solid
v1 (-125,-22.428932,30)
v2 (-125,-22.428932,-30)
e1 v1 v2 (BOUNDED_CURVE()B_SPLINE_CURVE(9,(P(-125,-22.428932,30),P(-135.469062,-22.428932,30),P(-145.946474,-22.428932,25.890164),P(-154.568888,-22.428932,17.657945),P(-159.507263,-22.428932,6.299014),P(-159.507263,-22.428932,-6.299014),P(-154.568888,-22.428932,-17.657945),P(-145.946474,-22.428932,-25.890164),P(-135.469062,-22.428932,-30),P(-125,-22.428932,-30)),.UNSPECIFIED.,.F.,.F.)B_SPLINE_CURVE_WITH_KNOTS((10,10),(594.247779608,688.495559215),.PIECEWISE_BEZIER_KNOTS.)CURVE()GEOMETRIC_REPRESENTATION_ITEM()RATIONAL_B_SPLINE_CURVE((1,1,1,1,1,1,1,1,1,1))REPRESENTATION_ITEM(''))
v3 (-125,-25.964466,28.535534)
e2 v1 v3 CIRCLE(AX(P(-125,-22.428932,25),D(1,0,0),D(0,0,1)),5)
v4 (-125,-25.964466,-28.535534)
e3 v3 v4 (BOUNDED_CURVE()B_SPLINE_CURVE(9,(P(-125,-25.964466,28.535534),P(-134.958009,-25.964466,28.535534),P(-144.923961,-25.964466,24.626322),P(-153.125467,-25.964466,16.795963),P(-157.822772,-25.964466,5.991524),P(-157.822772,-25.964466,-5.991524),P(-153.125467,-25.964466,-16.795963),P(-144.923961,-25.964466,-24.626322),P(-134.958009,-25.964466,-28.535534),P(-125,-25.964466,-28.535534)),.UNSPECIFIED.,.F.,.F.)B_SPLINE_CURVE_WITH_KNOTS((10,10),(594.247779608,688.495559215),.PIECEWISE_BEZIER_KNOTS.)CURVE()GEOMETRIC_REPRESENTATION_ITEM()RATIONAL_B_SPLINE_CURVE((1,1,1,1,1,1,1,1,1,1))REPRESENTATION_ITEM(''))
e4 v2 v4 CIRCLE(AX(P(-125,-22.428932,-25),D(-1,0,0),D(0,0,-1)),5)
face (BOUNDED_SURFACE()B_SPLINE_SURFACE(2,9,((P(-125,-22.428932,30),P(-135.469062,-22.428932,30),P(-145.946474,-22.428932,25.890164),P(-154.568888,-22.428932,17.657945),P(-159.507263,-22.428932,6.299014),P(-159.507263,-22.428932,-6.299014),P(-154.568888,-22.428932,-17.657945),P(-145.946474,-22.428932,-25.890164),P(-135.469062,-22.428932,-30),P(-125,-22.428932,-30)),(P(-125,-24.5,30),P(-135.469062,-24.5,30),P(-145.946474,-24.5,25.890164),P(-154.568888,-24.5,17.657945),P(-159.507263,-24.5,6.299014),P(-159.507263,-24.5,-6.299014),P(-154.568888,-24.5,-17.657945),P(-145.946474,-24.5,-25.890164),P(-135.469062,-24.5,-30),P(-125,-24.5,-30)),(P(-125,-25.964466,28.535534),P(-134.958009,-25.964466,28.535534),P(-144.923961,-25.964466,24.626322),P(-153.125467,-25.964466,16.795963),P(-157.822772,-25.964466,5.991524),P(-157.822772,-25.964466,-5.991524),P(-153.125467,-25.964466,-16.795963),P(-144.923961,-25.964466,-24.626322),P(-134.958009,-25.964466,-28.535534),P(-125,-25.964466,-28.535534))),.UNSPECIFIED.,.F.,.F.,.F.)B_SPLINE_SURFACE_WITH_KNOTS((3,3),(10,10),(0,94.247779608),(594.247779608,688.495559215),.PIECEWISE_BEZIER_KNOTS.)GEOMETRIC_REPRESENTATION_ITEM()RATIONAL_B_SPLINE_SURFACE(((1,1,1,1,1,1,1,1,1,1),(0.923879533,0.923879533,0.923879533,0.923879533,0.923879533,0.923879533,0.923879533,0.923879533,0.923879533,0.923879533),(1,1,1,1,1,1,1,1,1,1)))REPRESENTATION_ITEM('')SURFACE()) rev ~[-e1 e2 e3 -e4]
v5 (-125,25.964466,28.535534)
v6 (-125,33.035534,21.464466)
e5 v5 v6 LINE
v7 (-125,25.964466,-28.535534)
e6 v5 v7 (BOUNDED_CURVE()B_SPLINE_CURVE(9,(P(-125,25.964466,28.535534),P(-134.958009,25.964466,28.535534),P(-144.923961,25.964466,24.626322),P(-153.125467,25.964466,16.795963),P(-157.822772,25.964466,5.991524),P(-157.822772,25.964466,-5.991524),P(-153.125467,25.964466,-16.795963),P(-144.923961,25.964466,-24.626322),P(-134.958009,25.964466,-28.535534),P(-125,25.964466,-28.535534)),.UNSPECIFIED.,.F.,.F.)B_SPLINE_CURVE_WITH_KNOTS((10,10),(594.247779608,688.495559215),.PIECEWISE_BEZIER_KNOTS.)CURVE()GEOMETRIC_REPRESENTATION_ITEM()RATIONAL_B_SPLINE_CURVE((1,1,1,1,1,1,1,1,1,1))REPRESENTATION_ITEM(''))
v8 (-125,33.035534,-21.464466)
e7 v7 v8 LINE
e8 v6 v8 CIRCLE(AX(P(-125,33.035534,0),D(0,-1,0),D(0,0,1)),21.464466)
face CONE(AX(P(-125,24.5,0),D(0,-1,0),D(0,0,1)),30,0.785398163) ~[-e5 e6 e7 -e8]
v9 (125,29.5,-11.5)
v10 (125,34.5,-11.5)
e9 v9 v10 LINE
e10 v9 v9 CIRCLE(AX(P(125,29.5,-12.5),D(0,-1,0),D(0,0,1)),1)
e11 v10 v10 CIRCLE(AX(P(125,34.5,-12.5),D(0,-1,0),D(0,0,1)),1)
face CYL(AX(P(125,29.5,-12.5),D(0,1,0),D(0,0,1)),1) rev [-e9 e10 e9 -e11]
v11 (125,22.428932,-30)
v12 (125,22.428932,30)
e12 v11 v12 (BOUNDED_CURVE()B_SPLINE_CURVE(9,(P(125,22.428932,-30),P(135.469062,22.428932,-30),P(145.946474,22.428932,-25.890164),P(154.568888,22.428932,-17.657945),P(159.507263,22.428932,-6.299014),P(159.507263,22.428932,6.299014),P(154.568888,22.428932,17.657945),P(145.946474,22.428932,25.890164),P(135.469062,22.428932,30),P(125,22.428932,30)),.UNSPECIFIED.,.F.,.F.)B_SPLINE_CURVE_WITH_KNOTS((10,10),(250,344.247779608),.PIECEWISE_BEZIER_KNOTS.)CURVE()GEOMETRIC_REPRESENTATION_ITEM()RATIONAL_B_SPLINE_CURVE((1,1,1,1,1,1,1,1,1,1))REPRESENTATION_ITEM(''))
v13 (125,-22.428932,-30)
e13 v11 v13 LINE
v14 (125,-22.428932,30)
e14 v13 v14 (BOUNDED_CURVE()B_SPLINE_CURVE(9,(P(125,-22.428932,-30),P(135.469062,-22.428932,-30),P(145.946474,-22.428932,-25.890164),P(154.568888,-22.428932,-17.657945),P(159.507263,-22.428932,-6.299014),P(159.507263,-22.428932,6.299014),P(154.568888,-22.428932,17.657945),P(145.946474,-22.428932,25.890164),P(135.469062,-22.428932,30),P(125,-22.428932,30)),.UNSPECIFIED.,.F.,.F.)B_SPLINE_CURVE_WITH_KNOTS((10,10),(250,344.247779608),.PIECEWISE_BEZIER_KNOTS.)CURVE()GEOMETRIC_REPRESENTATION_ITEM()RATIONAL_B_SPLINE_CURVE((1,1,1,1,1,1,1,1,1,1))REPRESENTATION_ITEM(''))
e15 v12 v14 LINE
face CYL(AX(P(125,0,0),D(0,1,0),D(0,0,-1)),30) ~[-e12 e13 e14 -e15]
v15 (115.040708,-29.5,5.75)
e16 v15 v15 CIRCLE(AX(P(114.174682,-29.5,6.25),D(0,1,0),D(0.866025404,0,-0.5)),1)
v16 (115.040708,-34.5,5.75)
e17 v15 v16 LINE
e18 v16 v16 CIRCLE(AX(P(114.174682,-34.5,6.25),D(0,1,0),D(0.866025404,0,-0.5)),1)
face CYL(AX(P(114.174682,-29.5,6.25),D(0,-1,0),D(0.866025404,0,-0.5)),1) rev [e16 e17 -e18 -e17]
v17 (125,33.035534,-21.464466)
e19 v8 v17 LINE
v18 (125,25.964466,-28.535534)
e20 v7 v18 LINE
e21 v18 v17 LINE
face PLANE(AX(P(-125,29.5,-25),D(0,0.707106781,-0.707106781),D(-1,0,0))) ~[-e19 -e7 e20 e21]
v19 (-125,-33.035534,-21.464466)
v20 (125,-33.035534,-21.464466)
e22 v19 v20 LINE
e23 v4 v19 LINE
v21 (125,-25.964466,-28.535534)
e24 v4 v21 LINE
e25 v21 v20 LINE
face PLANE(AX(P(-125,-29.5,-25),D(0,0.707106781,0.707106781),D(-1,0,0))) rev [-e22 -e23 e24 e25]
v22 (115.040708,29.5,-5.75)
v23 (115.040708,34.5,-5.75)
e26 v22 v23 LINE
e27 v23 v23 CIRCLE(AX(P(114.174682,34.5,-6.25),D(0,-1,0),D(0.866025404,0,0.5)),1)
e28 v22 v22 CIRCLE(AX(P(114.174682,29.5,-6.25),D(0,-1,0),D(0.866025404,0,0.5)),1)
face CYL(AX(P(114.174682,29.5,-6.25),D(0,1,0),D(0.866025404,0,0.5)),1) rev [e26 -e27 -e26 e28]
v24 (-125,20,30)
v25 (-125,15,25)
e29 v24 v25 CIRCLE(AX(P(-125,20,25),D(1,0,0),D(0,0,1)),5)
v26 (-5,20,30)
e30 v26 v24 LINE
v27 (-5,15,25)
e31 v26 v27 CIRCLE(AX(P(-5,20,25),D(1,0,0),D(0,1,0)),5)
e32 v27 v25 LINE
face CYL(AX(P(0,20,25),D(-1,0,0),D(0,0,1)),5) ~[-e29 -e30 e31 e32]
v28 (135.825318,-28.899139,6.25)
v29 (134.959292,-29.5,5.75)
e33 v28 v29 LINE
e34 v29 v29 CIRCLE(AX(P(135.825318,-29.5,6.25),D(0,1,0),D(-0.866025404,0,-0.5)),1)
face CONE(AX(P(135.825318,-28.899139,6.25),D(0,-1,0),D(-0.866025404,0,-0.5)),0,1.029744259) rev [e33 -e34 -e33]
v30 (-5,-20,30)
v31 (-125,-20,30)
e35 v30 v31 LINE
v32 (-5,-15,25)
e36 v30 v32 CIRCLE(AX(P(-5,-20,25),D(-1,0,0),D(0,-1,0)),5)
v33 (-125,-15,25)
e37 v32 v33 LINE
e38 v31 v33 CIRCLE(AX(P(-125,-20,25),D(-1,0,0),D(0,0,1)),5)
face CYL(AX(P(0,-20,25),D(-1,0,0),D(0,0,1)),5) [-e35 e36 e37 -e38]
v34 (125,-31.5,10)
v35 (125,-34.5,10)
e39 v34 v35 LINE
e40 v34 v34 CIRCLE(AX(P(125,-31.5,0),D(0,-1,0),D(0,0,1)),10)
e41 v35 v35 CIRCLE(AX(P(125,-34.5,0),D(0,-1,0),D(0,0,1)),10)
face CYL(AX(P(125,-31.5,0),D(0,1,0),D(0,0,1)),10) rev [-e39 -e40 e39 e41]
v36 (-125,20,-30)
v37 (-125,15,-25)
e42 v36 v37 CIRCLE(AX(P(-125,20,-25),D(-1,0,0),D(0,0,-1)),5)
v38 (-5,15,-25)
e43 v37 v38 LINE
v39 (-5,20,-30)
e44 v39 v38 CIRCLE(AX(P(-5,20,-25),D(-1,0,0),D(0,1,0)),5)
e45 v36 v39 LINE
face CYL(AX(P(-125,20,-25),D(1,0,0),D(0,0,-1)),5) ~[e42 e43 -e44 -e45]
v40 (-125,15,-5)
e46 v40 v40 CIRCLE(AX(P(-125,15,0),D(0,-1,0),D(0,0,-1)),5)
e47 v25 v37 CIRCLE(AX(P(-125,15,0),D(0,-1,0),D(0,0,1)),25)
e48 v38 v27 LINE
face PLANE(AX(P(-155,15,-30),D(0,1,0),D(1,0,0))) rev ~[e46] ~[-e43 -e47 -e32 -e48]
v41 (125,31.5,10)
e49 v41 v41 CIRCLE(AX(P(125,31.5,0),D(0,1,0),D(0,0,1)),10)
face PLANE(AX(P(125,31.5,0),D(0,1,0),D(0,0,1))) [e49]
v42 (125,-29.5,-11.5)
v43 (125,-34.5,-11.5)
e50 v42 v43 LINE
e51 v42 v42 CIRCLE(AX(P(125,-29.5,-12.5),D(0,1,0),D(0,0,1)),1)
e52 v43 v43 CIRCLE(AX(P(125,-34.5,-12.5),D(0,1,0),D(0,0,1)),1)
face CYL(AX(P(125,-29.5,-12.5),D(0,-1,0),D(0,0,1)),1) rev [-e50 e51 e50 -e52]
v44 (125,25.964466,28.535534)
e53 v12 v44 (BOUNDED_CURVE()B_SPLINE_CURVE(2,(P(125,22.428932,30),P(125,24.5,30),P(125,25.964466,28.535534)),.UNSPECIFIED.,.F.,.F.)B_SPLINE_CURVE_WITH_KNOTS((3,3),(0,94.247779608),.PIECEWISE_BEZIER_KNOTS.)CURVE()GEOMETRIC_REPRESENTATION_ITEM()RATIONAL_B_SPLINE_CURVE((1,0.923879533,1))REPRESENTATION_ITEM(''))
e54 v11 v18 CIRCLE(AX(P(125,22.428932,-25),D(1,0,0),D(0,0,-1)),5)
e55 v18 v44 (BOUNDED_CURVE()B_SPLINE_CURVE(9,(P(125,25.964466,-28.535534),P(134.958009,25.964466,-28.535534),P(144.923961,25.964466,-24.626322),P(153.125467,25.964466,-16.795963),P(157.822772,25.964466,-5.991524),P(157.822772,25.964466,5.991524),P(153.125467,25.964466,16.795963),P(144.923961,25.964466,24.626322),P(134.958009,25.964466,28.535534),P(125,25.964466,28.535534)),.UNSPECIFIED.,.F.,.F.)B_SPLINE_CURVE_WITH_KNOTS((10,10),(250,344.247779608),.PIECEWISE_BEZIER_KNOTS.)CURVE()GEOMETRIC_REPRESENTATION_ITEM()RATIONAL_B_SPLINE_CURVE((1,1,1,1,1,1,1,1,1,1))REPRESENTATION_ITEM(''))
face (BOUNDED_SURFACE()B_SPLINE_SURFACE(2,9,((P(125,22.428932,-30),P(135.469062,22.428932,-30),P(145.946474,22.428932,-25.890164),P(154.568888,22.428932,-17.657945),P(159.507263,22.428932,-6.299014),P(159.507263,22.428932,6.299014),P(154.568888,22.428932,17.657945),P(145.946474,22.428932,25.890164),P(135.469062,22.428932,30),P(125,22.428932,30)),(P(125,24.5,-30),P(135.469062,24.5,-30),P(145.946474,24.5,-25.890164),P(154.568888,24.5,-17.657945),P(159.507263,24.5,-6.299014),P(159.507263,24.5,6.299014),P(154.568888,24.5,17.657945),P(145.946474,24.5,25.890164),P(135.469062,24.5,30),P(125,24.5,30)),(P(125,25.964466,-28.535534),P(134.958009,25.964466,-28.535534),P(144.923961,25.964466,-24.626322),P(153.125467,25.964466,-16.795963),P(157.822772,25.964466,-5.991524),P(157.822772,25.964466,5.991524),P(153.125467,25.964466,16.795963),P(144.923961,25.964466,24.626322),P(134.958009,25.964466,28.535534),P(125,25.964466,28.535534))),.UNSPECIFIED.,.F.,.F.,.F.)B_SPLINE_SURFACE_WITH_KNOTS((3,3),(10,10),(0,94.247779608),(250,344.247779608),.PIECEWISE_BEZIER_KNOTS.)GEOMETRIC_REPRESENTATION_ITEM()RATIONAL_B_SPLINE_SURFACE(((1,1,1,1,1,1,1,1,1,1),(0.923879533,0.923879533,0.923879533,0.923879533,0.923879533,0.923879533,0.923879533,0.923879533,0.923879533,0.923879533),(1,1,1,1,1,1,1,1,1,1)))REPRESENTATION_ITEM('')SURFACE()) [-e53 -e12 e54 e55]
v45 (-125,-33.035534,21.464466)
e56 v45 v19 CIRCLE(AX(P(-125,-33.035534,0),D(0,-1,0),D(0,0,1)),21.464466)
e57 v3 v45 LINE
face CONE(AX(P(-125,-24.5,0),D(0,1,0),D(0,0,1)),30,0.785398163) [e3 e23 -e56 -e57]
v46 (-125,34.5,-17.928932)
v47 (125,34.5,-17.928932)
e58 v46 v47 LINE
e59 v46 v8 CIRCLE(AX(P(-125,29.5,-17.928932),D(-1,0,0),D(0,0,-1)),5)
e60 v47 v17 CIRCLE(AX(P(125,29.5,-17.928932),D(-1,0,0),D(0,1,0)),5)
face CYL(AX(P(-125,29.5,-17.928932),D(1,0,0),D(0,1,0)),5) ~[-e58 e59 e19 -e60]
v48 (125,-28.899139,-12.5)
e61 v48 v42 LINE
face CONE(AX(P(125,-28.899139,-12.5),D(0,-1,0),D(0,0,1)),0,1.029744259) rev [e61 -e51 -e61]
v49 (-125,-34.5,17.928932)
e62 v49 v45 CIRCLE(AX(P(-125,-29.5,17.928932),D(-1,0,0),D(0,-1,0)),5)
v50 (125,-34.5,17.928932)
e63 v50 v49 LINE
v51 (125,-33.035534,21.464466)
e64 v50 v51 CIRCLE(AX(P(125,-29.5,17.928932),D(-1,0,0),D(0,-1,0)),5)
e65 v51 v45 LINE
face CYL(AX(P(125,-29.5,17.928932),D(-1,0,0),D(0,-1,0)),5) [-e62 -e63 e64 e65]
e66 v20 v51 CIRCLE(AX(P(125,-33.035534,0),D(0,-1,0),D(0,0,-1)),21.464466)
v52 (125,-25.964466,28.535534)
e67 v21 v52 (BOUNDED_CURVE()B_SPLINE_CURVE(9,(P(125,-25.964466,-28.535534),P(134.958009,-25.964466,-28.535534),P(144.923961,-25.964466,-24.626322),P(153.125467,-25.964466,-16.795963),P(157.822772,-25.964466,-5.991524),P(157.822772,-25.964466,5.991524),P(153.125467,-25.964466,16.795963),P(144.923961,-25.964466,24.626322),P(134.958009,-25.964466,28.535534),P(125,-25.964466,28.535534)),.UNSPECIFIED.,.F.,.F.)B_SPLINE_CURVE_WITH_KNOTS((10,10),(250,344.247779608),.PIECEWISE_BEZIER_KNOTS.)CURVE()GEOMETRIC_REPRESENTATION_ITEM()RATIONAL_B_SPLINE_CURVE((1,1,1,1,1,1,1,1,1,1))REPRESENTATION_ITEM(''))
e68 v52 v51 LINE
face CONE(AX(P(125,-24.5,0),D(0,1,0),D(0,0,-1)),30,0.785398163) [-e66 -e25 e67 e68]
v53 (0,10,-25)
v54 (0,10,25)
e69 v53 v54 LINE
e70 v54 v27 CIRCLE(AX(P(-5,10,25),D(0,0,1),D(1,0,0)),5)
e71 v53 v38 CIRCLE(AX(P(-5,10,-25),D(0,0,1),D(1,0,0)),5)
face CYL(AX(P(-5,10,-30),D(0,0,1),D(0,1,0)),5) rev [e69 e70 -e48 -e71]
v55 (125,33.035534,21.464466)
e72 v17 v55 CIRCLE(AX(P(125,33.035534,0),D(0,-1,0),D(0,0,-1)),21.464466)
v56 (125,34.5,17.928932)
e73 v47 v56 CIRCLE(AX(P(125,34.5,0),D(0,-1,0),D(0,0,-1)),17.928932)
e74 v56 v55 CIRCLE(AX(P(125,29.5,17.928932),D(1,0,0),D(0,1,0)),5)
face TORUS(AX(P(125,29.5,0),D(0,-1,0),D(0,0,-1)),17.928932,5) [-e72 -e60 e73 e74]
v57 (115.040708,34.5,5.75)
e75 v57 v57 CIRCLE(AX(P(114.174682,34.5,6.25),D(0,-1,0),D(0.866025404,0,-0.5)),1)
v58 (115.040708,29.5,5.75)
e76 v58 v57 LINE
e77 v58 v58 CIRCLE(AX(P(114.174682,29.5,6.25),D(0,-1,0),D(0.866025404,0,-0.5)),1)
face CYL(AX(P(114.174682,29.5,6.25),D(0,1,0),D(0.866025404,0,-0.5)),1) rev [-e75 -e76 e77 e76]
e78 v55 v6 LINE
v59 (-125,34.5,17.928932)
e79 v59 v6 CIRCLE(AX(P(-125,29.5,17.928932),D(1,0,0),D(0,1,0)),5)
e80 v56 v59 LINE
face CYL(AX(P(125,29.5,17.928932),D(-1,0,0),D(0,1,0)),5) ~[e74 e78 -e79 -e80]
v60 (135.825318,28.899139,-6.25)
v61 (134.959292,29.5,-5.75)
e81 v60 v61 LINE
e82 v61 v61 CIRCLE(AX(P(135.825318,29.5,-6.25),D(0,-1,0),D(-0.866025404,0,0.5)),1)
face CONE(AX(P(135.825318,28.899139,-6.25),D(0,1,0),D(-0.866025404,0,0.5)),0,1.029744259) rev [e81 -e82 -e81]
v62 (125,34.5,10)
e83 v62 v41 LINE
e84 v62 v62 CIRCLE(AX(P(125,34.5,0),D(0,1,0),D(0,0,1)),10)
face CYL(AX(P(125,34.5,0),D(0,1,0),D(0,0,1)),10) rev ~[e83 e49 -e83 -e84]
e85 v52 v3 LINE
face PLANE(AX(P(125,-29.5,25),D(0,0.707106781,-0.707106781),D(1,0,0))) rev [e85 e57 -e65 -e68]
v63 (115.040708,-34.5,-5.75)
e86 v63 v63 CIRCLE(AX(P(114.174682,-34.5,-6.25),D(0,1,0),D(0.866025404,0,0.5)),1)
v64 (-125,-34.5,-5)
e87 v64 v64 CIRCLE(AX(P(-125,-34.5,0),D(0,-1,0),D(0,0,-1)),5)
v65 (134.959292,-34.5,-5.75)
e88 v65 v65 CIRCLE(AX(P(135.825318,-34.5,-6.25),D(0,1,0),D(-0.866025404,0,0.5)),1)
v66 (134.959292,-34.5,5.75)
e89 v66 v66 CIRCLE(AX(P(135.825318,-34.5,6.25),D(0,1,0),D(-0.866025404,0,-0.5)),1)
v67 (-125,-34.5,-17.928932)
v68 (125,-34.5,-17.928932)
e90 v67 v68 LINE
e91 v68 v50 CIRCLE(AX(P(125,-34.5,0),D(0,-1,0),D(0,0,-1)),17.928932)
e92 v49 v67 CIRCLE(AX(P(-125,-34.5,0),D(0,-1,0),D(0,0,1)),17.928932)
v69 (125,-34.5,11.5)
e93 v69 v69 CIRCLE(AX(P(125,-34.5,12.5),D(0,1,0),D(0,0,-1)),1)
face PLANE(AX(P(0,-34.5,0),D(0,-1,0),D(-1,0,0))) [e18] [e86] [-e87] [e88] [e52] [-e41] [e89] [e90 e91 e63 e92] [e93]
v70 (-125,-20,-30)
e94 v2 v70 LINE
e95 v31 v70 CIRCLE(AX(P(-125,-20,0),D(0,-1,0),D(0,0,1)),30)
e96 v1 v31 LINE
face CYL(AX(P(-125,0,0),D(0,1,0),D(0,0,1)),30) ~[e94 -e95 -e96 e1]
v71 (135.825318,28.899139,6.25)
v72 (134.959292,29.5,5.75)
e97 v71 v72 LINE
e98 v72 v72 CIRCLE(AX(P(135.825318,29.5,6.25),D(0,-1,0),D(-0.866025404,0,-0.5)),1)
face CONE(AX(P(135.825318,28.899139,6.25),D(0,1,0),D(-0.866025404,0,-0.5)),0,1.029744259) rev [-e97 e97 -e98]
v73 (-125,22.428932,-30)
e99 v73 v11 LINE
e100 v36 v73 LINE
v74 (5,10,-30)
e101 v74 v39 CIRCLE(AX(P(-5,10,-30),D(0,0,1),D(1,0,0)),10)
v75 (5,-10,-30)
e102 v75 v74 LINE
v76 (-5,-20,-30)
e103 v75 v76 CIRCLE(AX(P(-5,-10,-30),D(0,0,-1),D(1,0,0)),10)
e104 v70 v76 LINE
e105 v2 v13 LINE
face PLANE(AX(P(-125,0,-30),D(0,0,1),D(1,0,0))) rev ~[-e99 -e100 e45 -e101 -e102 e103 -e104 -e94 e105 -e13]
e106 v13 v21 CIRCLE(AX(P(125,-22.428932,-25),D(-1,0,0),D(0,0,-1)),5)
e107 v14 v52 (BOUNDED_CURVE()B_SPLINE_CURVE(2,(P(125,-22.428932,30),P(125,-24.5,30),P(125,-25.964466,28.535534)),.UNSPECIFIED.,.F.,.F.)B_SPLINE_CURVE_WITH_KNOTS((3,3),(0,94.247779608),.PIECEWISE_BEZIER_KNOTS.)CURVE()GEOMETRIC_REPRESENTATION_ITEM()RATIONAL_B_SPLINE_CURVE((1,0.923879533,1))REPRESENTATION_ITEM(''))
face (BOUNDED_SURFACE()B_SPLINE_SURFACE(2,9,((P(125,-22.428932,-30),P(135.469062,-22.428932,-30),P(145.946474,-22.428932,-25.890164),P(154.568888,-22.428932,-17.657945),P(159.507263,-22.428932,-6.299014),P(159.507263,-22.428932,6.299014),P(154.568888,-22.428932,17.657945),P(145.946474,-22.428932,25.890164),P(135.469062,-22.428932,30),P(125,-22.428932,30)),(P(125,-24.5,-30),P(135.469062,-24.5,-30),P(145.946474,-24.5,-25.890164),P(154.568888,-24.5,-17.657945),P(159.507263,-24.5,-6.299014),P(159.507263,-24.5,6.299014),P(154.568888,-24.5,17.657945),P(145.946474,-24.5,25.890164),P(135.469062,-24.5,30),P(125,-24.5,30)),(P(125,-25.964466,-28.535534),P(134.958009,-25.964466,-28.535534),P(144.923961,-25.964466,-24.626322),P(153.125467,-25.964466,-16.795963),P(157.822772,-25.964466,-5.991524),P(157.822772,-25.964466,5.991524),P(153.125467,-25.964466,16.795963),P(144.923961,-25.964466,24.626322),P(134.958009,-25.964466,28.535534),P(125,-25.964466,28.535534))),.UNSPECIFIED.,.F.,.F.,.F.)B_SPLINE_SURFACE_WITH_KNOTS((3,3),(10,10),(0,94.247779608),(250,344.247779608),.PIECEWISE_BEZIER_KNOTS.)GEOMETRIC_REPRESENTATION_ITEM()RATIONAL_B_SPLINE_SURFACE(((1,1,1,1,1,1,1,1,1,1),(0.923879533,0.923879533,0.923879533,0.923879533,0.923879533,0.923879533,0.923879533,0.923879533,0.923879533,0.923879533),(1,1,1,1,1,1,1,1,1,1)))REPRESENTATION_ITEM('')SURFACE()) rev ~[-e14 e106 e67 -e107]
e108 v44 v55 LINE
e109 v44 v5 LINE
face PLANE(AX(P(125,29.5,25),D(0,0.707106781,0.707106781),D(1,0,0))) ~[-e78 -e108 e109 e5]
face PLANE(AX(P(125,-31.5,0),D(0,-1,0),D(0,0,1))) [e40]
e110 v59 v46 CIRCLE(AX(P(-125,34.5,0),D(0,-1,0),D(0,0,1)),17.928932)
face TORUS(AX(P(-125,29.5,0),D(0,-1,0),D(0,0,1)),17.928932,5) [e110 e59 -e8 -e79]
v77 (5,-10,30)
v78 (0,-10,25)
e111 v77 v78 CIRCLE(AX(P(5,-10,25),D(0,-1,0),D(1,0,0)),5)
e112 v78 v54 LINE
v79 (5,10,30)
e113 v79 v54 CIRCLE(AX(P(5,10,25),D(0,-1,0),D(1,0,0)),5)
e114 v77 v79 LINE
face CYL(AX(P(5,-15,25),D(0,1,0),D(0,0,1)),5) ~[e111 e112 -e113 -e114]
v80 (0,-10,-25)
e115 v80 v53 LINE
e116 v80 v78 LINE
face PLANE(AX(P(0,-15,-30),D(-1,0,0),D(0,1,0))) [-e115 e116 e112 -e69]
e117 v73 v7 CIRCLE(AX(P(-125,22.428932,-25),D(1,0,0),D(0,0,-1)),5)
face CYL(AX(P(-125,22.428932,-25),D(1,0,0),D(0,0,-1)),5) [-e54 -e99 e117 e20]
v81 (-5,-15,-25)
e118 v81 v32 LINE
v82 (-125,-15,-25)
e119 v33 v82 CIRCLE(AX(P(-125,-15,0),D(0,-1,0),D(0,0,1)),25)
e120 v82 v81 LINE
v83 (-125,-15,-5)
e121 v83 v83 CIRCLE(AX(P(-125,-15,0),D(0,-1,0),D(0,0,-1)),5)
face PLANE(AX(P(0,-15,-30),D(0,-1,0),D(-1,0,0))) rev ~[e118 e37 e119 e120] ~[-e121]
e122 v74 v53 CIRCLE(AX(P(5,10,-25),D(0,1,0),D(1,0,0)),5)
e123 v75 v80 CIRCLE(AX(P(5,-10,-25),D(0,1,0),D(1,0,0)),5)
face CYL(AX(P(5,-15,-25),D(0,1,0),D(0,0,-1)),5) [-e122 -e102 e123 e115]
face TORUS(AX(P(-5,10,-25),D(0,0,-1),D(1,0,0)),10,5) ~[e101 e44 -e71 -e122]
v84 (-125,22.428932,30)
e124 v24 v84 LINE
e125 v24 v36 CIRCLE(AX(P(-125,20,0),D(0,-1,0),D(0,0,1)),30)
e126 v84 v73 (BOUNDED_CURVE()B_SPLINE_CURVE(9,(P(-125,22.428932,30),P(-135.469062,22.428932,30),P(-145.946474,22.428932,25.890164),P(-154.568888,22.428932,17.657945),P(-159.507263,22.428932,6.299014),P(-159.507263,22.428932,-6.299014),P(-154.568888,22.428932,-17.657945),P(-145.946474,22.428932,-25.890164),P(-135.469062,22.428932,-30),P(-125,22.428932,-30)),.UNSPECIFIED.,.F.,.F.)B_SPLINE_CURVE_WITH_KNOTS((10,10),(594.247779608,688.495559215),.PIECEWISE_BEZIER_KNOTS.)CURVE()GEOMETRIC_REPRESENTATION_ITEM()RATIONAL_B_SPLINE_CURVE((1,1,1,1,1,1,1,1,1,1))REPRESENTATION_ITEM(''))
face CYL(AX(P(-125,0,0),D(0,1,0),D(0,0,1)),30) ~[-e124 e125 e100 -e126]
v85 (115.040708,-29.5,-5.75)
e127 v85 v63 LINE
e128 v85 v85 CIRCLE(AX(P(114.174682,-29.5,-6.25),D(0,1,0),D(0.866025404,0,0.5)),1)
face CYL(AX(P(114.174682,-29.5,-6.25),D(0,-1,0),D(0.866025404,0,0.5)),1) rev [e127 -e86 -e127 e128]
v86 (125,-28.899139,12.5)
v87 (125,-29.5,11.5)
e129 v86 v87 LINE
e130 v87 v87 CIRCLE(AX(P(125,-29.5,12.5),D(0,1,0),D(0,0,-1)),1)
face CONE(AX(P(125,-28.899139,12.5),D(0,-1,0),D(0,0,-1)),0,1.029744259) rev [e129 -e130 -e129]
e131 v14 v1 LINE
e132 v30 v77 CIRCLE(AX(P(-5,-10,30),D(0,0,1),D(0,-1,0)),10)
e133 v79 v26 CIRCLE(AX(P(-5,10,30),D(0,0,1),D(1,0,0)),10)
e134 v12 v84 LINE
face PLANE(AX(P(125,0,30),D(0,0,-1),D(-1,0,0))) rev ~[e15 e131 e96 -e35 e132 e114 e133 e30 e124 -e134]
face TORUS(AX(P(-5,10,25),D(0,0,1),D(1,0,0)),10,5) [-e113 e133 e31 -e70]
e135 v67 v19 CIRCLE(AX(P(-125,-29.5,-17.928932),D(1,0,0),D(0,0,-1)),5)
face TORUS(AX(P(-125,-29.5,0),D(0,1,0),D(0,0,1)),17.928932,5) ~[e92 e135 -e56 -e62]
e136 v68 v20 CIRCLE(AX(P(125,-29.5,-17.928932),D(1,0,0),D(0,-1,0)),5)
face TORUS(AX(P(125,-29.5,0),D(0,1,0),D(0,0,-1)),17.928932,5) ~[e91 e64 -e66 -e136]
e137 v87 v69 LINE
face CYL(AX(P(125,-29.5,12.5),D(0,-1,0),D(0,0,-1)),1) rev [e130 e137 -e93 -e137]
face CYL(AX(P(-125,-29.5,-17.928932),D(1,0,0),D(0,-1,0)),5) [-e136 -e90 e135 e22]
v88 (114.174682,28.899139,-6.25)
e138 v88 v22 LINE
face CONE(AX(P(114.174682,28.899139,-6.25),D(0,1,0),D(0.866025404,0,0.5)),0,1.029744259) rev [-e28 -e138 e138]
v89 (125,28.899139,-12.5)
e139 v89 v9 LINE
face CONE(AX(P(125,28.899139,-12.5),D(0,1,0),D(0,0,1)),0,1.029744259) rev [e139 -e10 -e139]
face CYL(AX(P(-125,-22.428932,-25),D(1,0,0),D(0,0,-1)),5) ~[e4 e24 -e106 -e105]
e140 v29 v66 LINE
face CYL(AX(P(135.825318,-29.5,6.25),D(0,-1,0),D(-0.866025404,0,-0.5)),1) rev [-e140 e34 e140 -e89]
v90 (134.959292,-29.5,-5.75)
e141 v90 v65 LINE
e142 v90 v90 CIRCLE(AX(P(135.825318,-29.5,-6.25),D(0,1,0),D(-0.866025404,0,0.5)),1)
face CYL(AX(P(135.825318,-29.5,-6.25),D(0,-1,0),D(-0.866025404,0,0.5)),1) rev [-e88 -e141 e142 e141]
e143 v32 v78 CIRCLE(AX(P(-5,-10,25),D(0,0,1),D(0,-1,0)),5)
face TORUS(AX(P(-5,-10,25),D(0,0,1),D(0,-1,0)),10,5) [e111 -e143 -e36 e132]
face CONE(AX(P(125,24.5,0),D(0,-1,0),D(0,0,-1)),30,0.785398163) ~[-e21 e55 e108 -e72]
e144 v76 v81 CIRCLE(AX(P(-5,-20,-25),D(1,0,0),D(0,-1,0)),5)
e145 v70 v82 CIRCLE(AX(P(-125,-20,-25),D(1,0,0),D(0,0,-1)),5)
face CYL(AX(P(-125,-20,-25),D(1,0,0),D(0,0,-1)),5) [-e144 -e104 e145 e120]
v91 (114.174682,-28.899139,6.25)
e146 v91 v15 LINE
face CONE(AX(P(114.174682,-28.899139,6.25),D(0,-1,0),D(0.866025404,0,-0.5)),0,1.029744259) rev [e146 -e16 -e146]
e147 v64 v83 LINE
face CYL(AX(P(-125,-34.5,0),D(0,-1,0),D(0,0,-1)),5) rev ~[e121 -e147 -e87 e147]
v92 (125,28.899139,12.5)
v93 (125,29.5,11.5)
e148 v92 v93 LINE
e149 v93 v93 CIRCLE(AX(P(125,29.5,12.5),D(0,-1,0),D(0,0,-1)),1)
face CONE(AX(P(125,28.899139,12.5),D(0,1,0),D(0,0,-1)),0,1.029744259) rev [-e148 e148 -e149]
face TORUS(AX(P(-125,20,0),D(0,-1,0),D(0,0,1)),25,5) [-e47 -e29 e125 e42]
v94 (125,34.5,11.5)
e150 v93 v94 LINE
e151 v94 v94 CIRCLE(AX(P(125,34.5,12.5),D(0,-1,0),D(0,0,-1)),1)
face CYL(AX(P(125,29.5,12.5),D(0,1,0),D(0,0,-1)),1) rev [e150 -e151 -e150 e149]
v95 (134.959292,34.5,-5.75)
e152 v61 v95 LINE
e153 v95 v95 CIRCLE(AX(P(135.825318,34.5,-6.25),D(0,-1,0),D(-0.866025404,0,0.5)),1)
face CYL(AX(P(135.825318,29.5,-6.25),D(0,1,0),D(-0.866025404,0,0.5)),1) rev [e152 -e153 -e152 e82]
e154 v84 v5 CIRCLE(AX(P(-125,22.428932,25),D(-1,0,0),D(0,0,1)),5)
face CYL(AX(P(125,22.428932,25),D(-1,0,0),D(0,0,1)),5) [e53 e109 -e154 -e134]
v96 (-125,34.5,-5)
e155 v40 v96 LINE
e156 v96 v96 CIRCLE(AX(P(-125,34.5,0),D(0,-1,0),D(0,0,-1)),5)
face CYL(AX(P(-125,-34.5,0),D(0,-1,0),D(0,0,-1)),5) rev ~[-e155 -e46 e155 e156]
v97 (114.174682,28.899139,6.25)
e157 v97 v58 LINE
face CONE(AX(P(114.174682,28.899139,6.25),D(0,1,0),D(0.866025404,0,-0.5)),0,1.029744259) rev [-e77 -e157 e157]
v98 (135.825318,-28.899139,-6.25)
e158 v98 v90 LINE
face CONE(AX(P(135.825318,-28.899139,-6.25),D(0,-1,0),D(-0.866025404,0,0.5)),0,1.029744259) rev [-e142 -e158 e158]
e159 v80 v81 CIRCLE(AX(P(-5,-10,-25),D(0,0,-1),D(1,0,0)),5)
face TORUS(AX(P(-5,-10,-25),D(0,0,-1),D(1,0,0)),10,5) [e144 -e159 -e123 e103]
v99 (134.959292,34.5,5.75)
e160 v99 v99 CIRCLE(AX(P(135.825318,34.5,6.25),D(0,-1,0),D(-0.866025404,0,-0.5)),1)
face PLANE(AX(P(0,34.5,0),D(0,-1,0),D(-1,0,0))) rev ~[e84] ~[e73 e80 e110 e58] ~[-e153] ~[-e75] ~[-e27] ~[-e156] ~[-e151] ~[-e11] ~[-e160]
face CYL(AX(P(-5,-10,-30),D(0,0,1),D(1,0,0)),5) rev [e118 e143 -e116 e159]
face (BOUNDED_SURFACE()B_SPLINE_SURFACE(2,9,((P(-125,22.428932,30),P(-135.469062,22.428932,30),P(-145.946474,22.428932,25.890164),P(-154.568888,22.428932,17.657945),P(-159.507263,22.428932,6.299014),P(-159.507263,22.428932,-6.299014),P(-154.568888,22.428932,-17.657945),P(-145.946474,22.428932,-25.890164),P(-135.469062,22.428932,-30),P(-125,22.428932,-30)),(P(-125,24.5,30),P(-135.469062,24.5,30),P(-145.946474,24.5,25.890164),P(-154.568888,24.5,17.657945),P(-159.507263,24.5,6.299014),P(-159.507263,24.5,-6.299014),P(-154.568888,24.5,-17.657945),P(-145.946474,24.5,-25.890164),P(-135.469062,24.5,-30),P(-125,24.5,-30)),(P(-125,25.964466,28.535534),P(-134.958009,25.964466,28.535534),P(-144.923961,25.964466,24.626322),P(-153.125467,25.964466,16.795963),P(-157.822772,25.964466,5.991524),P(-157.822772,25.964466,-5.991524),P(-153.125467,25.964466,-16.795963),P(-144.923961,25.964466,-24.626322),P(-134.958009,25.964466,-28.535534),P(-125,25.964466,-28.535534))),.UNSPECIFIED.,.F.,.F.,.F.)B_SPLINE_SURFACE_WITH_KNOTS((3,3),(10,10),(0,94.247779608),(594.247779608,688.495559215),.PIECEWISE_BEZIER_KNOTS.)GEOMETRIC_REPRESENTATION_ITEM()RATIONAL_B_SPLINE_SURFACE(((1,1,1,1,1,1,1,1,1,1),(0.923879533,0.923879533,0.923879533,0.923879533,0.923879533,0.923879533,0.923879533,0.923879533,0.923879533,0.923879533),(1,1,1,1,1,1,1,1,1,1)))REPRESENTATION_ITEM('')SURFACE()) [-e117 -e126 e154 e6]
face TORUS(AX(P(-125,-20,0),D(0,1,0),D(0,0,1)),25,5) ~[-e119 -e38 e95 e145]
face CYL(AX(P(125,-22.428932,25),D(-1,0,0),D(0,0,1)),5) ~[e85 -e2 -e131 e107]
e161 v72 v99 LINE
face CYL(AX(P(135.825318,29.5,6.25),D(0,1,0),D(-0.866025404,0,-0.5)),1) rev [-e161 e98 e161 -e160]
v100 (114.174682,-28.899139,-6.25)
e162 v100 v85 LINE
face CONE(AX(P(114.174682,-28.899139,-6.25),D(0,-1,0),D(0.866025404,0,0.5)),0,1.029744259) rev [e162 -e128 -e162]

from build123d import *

# Parameters (mm, degrees)
BOSS_EXTRUDE1_DEPTH = 34.5
SKETCH2_R           = 10
CUT_EXTRUDE1_DEPTH  = 3
CUT_EXTRUDE2_START  = -3
SKETCH4_R           = 10
CUT_EXTRUDE2_DEPTH  = 3
CHAMFER1_SIZE       = 10
FILLET1_R           = 5
SKETCH5_W           = 125
SKETCH5_H           = 30
SKETCH5_W_2         = 30
CUT_EXTRUDE3_DEPTH  = 170.750539354
FILLET2_R           = 5
SKETCH6_R           = 5
CUT_EXTRUDE4_DEPTH  = 173.296256596
CIRPATTERN1_COUNT   = 6
CIRPATTERN2_COUNT   = 6


with BuildPart() as part:
    # Sketch1 → Boss-Extrude1 (new, symmetric)
    with BuildSketch(Plane(origin=(0, 0, 0), x_dir=(1, 0, 0), z_dir=(0, 1, 0))):
        with BuildLine():
            Line((-125, 30), (125, 30))
            ThreePointArc((125, 30), (155, 0), (125, -30))
            Line((125, -30), (-125, -30))
            ThreePointArc((-125, -30), (-155, 0), (-125, 30))
        make_face()
    extrude(amount=BOSS_EXTRUDE1_DEPTH, both=True)

    # Sketch2 → Cut-Extrude1 (cut)
    with BuildSketch(Plane(origin=(0, 34.5, 0), x_dir=(1, 0, 0), z_dir=(0, 1, 0))):
        with Locations(Location((125, 0, 0), (0, 0, 270))):
            Circle(SKETCH2_R)
    extrude(amount=-CUT_EXTRUDE1_DEPTH, mode=Mode.SUBTRACT)

    # Sketch4 → Cut-Extrude2 (cut)
    with BuildSketch(Plane.XZ.offset(34.5).offset(CUT_EXTRUDE2_START)):
        with Locations(Location((125, 0, 0), (0, 0, 90))):
            Circle(SKETCH4_R)
    extrude(amount=CUT_EXTRUDE2_DEPTH, mode=Mode.SUBTRACT)

    # Chamfer1
    chamfer1_edges = [part.edges().sort_by_distance(p)[0] for p in [
        (155, 34.5, 0),
        (0, 34.5, -30),
        (-155, 34.5, 0),
        (0, -34.5, -30),
        (155, -34.5, 0),
        (0, -34.5, 30),
        (-155, -34.5, 0),
        (0, 34.5, 30),
    ]]
    chamfer(chamfer1_edges, length=CHAMFER1_SIZE)

    # Fillet1
    fillet1_edges = [part.edges().sort_by_distance(p)[0] for p in [
        (0, 24.5, -30),
        (0, -24.5, -30),
        (0, -34.5, 20),
        (145, -34.5, 0),
        (-145, -34.5, 0),
        (0, -34.5, -20),
        (-155, 24.5, 0),
        (-155, -24.5, 0),
        (155, 24.5, 0),
        (155, -24.5, 0),
        (0, 24.5, 30),
        (0, -24.5, 30),
        (0, 34.5, 20),
        (145, 34.5, 0),
        (-145, 34.5, 0),
        (0, 34.5, -20),
    ]]
    fillet(fillet1_edges, radius=FILLET1_R)

    # Sketch5 → Cut-Extrude3 (cut, through all)
    with BuildSketch(Plane(origin=(0, 0, -30), x_dir=(-1, 0, 0), z_dir=(0, 0, -1))):
        with Locations((62.5, 0)):
            Rectangle(SKETCH5_W, SKETCH5_H)
        with Locations((140, 0)):
            Rectangle(SKETCH5_W_2, SKETCH5_H)
    extrude(amount=-CUT_EXTRUDE3_DEPTH, mode=Mode.SUBTRACT)

    # Fillet2
    fillet2_edges = [part.edges().sort_by_distance(p)[0] for p in [
        (-62.5, 15, -30),
        (-62.5, -15, 30),
        (-155, -15, 0),
        (-155, 15, 0),
        (-62.5, 15, 30),
        (0, 15, 0),
        (0, 0, 30),
        (0, -15, 0),
        (0, 0, -30),
        (-62.5, -15, -30),
    ]]
    fillet(fillet2_edges, radius=FILLET2_R)

    # Sketch6 → Cut-Extrude4 (cut, through all)
    with BuildSketch(Plane.XZ.offset(34.5)):
        with Locations(Location((-125, 0, 0), (0, 0, 270))):
            Circle(SKETCH6_R)
    extrude(amount=-CUT_EXTRUDE4_DEPTH, mode=Mode.SUBTRACT)

    # Sketch8 → Ø2.0mm Dowel Hole1 (revolve, cut)
    with BuildSketch(Plane(origin=(125, 34.5, -12.5), x_dir=(0, 0, 1), z_dir=(1, 0, 0))):
        Polygon((0, 0), (0, 5.600860619), (1, 5), (1, 0), align=None)
    f_2_0mm_dowel_hole1 = revolve(axis=Axis((125, 40.85, -12.5), (0, -1, 0)), mode=Mode.SUBTRACT)

    # CirPattern1: Ø2.0mm Dowel Hole1 ×6 about axis
    cirpattern1_axis = Axis((125, 0, 0), (0, 1, 0))
    for i in range(1, CIRPATTERN1_COUNT):
        add(f_2_0mm_dowel_hole1.rotate(cirpattern1_axis, i * 360 / CIRPATTERN1_COUNT), mode=Mode.SUBTRACT)

    # Sketch10 → Ø2.0mm Dowel Hole2 (revolve, cut)
    with BuildSketch(Plane(origin=(125, -34.5, 12.5), x_dir=(0, 0, -1), z_dir=(1, 0, 0))):
        Polygon((0, 0), (0, 5.600860619), (1, 5), (1, 0), align=None)
    f_2_0mm_dowel_hole2 = revolve(axis=Axis((125, -40.85, 12.5), (0, 1, 0)), mode=Mode.SUBTRACT)

    # CirPattern2: Ø2.0mm Dowel Hole2 ×6 about axis
    cirpattern2_axis = Axis((125, 0, 0), (0, 1, 0))
    for i in range(1, CIRPATTERN2_COUNT):
        add(f_2_0mm_dowel_hole2.rotate(cirpattern2_axis, i * 360 / CIRPATTERN2_COUNT), mode=Mode.SUBTRACT)


solid = part.part
